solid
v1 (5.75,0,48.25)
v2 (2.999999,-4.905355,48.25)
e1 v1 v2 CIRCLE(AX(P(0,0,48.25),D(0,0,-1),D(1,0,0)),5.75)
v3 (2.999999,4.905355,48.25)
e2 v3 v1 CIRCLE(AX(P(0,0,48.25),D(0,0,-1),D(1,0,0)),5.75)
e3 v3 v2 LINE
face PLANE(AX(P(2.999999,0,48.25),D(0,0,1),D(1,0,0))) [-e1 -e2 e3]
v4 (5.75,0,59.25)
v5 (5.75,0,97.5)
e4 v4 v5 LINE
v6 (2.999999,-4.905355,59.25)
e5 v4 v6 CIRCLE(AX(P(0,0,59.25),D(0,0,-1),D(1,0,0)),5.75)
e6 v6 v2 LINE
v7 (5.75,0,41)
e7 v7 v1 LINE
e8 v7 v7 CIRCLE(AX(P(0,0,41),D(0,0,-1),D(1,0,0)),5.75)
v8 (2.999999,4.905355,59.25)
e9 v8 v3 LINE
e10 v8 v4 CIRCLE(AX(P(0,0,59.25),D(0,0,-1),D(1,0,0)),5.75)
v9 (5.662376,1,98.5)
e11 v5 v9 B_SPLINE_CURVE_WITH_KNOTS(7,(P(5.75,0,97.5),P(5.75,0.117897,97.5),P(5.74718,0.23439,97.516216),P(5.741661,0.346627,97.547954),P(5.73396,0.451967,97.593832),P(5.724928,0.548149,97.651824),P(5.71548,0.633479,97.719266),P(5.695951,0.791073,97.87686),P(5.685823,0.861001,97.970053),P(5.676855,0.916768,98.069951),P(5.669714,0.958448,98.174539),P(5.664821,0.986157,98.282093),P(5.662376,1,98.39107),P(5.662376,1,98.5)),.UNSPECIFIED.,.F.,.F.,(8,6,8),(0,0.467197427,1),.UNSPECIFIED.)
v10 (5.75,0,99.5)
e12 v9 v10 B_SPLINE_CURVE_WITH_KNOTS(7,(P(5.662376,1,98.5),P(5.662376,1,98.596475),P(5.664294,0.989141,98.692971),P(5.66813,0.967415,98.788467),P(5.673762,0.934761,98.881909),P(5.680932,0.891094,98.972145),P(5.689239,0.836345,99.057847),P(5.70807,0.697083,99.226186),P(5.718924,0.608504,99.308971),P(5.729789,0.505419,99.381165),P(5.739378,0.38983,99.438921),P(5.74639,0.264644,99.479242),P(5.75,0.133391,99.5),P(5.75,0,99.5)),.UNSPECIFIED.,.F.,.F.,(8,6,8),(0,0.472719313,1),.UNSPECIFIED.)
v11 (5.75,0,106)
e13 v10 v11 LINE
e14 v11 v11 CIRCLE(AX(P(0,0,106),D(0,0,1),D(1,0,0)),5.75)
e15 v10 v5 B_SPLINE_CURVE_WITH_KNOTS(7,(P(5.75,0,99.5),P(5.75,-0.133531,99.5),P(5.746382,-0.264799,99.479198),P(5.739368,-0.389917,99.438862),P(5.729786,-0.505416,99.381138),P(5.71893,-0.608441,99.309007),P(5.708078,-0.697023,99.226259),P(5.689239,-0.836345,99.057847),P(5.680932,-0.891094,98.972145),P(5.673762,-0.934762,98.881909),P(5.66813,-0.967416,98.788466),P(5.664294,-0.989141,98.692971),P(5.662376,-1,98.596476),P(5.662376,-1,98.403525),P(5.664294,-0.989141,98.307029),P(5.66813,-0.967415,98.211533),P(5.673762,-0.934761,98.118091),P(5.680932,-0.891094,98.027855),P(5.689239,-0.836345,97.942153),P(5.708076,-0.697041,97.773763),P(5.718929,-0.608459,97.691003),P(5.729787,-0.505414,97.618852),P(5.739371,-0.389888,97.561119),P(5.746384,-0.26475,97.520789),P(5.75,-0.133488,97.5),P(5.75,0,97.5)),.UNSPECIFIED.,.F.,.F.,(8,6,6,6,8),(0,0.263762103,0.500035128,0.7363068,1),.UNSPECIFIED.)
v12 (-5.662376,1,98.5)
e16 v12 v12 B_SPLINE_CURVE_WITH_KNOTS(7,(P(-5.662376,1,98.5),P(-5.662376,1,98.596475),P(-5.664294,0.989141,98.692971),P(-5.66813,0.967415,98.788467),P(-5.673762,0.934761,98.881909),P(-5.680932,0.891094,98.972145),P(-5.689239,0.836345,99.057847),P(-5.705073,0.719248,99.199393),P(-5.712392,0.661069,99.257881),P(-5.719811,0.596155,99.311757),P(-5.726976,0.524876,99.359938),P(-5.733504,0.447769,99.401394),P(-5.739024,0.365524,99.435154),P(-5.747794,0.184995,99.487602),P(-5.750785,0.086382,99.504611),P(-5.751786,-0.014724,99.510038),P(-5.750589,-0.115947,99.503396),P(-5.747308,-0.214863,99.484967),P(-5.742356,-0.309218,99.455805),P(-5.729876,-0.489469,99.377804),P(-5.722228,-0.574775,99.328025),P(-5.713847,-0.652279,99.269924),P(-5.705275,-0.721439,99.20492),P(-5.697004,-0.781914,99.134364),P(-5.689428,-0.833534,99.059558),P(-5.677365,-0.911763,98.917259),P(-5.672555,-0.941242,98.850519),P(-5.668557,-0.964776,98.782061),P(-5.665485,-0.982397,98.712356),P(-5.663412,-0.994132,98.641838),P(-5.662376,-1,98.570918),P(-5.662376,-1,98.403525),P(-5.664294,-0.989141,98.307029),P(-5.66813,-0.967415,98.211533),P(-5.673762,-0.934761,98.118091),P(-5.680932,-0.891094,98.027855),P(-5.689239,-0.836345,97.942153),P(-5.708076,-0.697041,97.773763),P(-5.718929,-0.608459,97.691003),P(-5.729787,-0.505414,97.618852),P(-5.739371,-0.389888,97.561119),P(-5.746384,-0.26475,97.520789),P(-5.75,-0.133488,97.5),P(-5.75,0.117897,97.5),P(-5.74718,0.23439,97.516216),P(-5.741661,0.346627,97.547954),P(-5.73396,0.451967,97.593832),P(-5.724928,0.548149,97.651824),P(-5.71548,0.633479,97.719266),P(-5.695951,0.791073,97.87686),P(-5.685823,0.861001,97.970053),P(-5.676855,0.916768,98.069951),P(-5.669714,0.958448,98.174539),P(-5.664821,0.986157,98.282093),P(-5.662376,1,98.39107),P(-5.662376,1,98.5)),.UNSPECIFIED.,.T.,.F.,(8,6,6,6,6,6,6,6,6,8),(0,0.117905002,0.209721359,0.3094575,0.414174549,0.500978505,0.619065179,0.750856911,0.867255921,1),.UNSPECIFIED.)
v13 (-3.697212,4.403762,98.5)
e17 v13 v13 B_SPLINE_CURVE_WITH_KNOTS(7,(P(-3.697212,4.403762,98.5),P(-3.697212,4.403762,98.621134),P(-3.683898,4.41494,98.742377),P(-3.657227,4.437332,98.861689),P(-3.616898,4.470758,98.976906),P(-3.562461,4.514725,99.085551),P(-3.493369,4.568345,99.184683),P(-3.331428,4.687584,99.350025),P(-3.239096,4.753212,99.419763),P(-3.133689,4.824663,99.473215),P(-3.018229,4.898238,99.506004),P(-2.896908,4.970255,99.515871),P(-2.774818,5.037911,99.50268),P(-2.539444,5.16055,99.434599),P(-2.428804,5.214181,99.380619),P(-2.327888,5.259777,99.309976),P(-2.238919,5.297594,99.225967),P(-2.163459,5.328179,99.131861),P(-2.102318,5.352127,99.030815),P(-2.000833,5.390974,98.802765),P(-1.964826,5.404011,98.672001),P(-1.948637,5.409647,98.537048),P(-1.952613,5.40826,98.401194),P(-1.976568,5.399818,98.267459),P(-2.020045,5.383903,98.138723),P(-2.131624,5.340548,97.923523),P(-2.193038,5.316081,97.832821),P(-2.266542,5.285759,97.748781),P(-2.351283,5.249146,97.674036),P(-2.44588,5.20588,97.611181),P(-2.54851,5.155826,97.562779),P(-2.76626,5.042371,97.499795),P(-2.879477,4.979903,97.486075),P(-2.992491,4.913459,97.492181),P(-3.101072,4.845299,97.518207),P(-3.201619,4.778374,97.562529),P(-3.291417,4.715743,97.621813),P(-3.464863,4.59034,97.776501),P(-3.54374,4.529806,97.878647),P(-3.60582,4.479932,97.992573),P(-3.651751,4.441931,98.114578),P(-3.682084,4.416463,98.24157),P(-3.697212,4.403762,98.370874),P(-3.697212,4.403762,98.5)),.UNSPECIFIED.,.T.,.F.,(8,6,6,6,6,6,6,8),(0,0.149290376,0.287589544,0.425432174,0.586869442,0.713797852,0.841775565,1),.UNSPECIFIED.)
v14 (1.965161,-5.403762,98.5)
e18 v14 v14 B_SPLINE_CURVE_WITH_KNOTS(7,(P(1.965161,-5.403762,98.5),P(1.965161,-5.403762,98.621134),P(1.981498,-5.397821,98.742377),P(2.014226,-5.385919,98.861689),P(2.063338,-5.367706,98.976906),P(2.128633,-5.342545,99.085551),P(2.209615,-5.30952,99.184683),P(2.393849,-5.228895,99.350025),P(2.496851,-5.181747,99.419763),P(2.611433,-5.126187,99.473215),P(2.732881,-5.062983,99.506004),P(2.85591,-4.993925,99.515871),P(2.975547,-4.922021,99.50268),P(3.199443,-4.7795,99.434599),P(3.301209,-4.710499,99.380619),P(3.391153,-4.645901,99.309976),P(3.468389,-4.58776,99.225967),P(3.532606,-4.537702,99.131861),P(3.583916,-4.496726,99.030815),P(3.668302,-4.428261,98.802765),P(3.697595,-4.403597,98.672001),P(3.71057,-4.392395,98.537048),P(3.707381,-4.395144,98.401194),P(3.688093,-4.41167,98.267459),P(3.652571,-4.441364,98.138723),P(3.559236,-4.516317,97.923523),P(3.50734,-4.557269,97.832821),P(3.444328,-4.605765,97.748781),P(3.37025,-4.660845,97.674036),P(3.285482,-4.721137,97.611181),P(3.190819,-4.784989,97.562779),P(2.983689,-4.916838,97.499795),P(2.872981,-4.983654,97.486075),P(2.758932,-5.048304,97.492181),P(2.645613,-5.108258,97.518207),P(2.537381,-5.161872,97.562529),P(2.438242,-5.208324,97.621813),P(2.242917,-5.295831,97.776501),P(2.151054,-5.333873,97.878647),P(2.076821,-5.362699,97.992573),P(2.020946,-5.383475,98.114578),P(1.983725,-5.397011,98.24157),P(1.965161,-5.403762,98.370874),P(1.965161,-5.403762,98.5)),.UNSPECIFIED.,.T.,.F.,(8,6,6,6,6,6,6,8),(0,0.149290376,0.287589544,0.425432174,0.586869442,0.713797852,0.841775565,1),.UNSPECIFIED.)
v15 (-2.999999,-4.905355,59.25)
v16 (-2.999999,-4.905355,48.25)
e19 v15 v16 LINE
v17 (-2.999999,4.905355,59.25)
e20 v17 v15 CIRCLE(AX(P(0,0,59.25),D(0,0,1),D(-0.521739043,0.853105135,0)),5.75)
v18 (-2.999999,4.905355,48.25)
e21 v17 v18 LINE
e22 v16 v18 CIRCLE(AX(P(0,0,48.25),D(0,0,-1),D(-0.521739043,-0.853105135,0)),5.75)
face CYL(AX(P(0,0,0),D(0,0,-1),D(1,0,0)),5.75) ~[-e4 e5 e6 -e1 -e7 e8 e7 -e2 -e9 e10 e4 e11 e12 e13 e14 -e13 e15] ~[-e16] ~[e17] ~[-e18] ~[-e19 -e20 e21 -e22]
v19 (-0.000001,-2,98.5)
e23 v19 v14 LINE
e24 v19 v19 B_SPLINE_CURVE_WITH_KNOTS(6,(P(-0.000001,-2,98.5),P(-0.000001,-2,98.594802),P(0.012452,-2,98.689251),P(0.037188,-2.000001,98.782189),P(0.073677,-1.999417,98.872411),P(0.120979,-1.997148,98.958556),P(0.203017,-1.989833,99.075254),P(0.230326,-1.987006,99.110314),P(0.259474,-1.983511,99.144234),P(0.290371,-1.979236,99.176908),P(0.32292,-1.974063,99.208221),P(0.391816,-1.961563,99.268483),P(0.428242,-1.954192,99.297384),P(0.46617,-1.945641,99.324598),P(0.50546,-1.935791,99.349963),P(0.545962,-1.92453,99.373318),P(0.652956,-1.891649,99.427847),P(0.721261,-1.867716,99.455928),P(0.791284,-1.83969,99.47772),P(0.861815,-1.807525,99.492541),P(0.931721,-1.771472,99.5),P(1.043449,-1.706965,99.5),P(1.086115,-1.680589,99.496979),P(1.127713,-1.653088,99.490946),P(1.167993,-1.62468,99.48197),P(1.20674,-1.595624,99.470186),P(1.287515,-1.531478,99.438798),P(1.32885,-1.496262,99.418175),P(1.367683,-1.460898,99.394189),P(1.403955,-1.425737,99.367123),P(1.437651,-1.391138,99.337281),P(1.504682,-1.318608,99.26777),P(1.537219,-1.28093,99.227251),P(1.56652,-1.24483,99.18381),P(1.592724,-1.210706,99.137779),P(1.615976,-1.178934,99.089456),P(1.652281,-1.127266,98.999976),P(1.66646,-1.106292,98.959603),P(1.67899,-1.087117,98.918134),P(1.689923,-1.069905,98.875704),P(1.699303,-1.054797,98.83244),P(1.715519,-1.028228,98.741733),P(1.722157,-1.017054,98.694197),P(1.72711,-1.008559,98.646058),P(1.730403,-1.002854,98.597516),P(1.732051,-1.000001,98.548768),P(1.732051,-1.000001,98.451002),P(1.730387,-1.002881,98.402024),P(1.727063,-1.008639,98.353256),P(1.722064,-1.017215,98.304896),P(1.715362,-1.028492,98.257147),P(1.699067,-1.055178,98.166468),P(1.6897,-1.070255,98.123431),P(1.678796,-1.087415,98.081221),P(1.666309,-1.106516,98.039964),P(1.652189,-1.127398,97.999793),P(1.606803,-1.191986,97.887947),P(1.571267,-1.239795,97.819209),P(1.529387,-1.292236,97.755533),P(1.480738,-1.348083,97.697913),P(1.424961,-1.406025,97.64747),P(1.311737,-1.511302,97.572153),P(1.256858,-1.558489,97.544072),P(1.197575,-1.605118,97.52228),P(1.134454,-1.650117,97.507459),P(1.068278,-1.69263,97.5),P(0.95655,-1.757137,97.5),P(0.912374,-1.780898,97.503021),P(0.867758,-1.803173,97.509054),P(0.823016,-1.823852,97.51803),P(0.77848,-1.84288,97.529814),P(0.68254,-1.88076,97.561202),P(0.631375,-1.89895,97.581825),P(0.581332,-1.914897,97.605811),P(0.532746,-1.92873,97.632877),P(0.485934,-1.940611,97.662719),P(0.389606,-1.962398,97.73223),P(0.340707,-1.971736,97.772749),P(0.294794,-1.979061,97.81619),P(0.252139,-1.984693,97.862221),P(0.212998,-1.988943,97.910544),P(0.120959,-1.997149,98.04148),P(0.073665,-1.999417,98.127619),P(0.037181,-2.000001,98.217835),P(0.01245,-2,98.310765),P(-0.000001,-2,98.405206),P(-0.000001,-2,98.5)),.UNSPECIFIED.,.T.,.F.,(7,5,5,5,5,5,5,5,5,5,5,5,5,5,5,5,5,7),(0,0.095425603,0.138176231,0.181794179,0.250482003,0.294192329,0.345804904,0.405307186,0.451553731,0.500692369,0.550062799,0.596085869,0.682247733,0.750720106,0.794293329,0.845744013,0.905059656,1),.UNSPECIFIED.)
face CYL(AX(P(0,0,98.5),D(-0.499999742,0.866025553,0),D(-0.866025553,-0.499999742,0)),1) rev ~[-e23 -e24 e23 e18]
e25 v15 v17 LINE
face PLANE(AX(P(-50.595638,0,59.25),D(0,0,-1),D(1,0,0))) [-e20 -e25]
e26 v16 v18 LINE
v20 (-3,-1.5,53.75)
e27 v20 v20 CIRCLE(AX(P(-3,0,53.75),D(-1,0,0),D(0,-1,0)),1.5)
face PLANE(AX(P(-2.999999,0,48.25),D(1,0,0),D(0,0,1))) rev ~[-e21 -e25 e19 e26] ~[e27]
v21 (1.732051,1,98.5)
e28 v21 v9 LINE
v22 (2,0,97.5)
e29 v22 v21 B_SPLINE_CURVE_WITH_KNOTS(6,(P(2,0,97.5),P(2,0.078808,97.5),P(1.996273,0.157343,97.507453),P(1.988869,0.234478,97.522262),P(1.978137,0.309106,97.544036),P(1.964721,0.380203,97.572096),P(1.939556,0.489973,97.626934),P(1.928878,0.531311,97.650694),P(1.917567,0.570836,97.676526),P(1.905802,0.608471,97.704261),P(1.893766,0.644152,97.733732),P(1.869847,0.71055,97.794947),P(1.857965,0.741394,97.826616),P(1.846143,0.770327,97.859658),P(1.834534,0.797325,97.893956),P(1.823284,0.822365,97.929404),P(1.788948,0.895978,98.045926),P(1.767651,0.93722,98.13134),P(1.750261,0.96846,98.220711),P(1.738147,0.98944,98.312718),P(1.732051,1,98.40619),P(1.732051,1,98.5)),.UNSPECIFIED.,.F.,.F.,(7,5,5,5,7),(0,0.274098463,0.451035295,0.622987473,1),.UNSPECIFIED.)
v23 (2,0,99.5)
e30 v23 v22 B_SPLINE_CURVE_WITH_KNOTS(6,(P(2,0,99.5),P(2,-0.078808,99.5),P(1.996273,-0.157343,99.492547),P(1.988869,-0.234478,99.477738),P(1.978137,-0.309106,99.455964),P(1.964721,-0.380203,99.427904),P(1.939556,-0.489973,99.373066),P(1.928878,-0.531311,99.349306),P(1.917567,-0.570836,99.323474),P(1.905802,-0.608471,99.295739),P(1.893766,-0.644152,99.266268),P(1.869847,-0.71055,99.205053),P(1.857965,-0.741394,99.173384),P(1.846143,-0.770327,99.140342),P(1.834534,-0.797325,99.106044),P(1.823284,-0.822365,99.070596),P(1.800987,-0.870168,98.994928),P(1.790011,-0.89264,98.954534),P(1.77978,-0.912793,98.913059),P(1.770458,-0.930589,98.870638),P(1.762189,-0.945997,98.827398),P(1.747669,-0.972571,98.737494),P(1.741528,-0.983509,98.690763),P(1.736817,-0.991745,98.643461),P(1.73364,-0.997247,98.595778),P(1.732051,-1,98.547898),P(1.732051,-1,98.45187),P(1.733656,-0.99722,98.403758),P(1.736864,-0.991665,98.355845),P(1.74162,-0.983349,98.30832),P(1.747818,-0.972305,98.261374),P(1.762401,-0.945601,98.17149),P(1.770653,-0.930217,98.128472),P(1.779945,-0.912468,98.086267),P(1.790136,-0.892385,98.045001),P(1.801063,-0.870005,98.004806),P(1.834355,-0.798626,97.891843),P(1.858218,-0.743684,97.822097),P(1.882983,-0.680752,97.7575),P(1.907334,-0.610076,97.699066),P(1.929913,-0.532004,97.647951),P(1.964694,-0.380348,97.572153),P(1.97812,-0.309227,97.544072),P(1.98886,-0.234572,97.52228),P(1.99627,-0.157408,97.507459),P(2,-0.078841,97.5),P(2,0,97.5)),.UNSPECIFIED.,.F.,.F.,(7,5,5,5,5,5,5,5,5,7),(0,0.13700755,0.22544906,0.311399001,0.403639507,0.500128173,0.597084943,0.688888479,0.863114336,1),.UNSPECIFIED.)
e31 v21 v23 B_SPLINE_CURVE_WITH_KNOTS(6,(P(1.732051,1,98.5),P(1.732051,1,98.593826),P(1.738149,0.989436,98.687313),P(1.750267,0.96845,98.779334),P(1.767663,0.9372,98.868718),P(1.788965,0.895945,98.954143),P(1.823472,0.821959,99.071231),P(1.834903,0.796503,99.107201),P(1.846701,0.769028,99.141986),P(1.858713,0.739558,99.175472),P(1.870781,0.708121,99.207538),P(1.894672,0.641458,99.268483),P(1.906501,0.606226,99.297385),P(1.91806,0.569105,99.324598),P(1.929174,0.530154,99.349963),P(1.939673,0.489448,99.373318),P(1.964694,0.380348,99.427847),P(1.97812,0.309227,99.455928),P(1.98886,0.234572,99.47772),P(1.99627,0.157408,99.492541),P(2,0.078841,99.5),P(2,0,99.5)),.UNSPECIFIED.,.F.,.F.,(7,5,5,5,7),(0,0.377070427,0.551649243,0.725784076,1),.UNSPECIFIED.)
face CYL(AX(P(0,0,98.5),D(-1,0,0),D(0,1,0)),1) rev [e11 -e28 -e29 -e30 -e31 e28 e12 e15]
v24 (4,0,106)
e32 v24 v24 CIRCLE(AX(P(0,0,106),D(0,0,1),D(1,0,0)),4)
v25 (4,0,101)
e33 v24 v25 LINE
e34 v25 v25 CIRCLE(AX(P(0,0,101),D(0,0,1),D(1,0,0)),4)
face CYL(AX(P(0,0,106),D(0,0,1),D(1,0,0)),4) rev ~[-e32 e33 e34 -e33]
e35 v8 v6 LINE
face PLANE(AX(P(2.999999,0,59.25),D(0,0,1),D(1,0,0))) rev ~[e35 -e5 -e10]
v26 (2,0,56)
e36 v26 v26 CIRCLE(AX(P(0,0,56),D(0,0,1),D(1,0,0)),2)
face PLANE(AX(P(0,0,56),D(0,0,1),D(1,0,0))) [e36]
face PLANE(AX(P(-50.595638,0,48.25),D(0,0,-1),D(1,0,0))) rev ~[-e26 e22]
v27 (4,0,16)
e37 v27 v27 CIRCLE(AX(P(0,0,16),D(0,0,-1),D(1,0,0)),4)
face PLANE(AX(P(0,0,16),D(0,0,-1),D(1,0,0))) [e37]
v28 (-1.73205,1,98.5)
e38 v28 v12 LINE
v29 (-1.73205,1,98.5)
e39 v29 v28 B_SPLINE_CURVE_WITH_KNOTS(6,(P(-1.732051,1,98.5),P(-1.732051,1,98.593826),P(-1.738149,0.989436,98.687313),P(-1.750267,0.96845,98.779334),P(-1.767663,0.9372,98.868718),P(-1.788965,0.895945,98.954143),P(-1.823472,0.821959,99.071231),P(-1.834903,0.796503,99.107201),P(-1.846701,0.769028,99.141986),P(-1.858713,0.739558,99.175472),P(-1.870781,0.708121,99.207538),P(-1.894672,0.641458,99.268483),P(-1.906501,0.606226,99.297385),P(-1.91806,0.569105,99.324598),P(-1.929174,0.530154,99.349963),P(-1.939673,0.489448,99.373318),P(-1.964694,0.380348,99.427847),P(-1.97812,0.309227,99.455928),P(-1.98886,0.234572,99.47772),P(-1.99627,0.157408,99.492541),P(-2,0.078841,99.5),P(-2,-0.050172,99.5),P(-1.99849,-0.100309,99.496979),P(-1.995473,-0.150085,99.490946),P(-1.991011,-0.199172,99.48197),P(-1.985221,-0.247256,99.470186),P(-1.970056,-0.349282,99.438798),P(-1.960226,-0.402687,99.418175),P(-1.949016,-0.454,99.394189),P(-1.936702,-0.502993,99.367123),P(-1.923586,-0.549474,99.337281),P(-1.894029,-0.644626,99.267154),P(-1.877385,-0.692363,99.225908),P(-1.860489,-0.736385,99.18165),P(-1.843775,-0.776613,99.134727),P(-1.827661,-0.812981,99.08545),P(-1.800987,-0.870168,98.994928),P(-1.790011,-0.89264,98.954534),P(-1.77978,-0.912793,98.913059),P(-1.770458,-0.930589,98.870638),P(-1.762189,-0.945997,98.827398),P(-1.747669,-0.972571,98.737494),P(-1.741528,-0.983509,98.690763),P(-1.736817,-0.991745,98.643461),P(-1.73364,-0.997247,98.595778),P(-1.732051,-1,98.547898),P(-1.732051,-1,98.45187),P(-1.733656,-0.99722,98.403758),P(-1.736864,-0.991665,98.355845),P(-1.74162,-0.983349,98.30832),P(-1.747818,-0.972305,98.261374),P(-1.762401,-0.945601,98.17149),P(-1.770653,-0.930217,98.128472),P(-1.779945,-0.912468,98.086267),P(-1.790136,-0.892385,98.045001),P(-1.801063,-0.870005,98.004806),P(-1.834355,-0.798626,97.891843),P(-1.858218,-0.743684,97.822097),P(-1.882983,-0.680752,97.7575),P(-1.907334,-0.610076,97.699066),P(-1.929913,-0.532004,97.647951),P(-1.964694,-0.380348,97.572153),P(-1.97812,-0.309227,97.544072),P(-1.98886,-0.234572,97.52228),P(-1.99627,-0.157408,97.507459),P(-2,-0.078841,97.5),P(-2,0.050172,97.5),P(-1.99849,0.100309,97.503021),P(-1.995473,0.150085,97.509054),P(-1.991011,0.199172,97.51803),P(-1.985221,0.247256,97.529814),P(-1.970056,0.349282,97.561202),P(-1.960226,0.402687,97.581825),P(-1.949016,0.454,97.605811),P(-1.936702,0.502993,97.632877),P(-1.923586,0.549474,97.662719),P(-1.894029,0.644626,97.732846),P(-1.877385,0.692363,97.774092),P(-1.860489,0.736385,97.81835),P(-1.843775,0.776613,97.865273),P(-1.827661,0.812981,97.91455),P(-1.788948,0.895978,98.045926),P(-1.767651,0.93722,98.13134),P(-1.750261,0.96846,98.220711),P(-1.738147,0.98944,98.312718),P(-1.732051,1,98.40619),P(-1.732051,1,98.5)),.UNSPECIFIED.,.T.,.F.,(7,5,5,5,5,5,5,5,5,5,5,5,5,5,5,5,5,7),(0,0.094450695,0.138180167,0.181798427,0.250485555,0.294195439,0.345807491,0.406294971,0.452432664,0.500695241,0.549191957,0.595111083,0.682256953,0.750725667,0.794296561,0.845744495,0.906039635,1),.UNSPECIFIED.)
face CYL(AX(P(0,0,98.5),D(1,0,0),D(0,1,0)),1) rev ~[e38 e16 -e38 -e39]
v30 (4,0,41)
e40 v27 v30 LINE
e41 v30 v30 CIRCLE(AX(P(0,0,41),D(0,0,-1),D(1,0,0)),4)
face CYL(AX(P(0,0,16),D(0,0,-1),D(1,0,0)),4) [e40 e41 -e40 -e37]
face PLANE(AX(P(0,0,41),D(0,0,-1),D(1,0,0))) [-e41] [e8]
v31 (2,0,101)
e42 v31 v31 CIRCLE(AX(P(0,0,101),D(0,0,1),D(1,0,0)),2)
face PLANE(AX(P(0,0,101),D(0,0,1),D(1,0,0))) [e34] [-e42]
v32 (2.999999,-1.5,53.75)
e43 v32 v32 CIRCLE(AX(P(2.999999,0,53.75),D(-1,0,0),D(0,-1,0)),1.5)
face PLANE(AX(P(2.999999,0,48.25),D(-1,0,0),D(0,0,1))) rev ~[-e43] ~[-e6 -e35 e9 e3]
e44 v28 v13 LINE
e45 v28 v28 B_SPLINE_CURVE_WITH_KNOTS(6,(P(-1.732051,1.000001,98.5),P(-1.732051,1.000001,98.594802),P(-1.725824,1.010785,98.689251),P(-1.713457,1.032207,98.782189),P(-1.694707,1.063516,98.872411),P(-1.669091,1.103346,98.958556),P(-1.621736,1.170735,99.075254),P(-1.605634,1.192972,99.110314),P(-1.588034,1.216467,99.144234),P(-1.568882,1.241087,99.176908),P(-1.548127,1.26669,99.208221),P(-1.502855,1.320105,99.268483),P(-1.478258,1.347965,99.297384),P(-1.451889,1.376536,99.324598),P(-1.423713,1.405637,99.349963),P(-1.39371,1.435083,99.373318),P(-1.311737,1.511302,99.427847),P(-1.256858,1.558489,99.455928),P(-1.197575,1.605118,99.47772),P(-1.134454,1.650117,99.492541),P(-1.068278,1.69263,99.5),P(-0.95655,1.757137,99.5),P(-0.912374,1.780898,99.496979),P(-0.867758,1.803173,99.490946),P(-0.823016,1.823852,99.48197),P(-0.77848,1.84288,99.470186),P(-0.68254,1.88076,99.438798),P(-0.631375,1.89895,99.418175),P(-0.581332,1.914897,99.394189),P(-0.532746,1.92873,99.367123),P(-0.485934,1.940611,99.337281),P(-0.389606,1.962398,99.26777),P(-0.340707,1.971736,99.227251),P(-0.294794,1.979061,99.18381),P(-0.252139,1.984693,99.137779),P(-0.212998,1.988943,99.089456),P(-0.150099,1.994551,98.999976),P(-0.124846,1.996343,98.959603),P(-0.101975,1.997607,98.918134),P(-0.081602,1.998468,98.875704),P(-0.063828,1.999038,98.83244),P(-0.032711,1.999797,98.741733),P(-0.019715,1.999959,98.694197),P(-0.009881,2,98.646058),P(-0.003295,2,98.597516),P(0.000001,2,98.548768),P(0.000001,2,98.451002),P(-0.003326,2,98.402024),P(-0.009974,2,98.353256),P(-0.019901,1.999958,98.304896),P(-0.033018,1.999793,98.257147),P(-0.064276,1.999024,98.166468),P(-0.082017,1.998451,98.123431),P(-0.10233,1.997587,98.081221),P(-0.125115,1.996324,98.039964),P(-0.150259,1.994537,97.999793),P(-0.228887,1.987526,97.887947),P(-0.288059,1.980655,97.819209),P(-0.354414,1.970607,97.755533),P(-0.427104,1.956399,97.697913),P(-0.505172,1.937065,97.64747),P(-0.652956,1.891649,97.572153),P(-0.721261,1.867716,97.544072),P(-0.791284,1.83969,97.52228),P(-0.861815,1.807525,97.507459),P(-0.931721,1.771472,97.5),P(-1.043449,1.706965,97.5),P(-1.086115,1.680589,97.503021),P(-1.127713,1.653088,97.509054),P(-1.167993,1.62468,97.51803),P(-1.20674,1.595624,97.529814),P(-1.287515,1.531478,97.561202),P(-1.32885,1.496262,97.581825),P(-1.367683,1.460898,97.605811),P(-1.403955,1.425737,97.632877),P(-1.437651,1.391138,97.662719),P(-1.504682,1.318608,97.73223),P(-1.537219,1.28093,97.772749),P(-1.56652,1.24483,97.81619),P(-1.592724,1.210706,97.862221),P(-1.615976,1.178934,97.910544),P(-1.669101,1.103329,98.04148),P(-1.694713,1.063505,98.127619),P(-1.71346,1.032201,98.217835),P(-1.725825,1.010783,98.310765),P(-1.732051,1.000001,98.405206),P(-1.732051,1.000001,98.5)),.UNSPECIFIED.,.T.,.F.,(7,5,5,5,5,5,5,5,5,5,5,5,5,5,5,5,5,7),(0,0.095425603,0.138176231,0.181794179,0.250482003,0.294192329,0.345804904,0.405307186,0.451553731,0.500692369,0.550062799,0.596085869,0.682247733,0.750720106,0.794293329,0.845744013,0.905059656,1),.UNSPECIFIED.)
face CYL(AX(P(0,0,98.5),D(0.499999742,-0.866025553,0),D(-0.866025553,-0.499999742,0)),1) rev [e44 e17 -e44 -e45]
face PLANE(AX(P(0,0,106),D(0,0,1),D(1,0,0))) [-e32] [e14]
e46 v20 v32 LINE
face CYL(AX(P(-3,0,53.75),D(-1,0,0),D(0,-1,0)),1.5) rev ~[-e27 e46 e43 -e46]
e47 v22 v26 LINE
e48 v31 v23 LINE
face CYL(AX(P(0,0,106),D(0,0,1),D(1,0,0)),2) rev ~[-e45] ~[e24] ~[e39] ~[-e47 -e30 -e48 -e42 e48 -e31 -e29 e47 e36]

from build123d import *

# Parameters (mm, degrees)
SKETCH_R             = 5.75
PAD_DEPTH            = 106
SKETCH001_R          = 1
POCKET_DEPTH         = 20
POCKET_DEPTH_BACK    = -20
PAD001_DEPTH         = 1
SKETCH003_R          = 1
POCKET001_DEPTH      = 20
POCKET001_DEPTH_BACK = -20
SKETCH005_R          = 4
POCKET003_DEPTH      = 5
POCKET003_DEPTH_BACK = 5
SKETCH006_R          = 2
POCKET004_DEPTH      = 50
SKETCH007_W          = 47.595639
SKETCH007_H          = 11
SKETCH007_W_2        = 12.114317
POCKET005_DEPTH      = 20
POCKET005_DEPTH_BACK = -20
SKETCH008_R          = 1.5
POCKET006_DEPTH      = 8.751
SKETCH009_R          = 12.128258
POCKET007_DEPTH      = 16
SKETCH010_R          = 8.873547
SKETCH010_R_2        = 4
POCKET008_DEPTH      = 25


with BuildPart() as part:
    # Sketch → Pad (new body)
    with BuildSketch(Plane.XY):
        Circle(SKETCH_R)
    extrude(amount=PAD_DEPTH)

    # Sketch001 → Pocket (cut, two sides)
    with BuildSketch(Plane.YZ) as pocket_sk:
        with Locations((0, 98.5)):
            Circle(SKETCH001_R)
    extrude(amount=-POCKET_DEPTH, mode=Mode.SUBTRACT)
    extrude(pocket_sk.sketch, amount=-POCKET_DEPTH_BACK, mode=Mode.SUBTRACT)

    # Sketch002 (on Face4 of Pocket) → Pad001 (join)
    with BuildSketch(Plane.XY.offset(106)):
        Polygon((0, 0), (1, 0.57735), (1, 0), align=None)
    extrude(amount=PAD001_DEPTH)

    # Sketch003 (on Face7 of Pad001) → Pocket001 (cut, two sides)
    with BuildSketch(Plane(origin=(0, 0, 0), x_dir=(-0.866026, -0.5, 0), z_dir=(-0.5, 0.866026, 0))) as pocket001_sk:
        with Locations((0, 98.5)):
            Circle(SKETCH003_R)
    extrude(amount=-POCKET001_DEPTH, mode=Mode.SUBTRACT)
    extrude(pocket001_sk.sketch, amount=-POCKET001_DEPTH_BACK, mode=Mode.SUBTRACT)

    # Sketch005 → Pocket003 (cut, two sides)
    with BuildSketch(Plane.XY.offset(106)) as pocket003_sk:
        Circle(SKETCH005_R)
    extrude(amount=POCKET003_DEPTH, mode=Mode.SUBTRACT)
    extrude(pocket003_sk.sketch, amount=-POCKET003_DEPTH_BACK, mode=Mode.SUBTRACT)

    # Sketch006 (on Face3 of Pocket003) → Pocket004 (cut)
    with BuildSketch(Plane.XY.offset(106)):
        Circle(SKETCH006_R)
    extrude(amount=-POCKET004_DEPTH, mode=Mode.SUBTRACT)

    # Sketch007 → Pocket005 (cut, two sides)
    with BuildSketch(Plane.XZ) as pocket005_sk:
        with Locations((-26.797819, 53.75)):
            Rectangle(SKETCH007_W, SKETCH007_H)
        with Locations((9.057158, 53.75)):
            Rectangle(SKETCH007_W_2, SKETCH007_H)
    extrude(amount=-POCKET005_DEPTH, mode=Mode.SUBTRACT)
    extrude(pocket005_sk.sketch, amount=-POCKET005_DEPTH_BACK, mode=Mode.SUBTRACT)

    # Sketch008 (on Face11 of Pocket005) → Pocket006 (cut, through all)
    with BuildSketch(Plane(origin=(-3, 0, 0), x_dir=(0, -1, 0), z_dir=(-1, 0, 0))):
        with Locations((0, 53.75)):
            Circle(SKETCH008_R)
    extrude(amount=-POCKET006_DEPTH, mode=Mode.SUBTRACT)

    # Sketch009 (on Face2 of Pocket006) → Pocket007 (cut)
    with BuildSketch(Plane(origin=(0, 0, 0), x_dir=(1, 0, 0), z_dir=(0, 0, -1))):
        Circle(SKETCH009_R)
    extrude(amount=-POCKET007_DEPTH, mode=Mode.SUBTRACT)

    # Sketch010 (on Face2 of Pocket007) → Pocket008 (cut)
    with BuildSketch(Plane(origin=(0, 0, 16), x_dir=(1, 0, 0), z_dir=(0, 0, -1))):
        Circle(SKETCH010_R)
        Circle(SKETCH010_R_2, mode=Mode.SUBTRACT)
    extrude(amount=-POCKET008_DEPTH, mode=Mode.SUBTRACT)


solid = part.part
